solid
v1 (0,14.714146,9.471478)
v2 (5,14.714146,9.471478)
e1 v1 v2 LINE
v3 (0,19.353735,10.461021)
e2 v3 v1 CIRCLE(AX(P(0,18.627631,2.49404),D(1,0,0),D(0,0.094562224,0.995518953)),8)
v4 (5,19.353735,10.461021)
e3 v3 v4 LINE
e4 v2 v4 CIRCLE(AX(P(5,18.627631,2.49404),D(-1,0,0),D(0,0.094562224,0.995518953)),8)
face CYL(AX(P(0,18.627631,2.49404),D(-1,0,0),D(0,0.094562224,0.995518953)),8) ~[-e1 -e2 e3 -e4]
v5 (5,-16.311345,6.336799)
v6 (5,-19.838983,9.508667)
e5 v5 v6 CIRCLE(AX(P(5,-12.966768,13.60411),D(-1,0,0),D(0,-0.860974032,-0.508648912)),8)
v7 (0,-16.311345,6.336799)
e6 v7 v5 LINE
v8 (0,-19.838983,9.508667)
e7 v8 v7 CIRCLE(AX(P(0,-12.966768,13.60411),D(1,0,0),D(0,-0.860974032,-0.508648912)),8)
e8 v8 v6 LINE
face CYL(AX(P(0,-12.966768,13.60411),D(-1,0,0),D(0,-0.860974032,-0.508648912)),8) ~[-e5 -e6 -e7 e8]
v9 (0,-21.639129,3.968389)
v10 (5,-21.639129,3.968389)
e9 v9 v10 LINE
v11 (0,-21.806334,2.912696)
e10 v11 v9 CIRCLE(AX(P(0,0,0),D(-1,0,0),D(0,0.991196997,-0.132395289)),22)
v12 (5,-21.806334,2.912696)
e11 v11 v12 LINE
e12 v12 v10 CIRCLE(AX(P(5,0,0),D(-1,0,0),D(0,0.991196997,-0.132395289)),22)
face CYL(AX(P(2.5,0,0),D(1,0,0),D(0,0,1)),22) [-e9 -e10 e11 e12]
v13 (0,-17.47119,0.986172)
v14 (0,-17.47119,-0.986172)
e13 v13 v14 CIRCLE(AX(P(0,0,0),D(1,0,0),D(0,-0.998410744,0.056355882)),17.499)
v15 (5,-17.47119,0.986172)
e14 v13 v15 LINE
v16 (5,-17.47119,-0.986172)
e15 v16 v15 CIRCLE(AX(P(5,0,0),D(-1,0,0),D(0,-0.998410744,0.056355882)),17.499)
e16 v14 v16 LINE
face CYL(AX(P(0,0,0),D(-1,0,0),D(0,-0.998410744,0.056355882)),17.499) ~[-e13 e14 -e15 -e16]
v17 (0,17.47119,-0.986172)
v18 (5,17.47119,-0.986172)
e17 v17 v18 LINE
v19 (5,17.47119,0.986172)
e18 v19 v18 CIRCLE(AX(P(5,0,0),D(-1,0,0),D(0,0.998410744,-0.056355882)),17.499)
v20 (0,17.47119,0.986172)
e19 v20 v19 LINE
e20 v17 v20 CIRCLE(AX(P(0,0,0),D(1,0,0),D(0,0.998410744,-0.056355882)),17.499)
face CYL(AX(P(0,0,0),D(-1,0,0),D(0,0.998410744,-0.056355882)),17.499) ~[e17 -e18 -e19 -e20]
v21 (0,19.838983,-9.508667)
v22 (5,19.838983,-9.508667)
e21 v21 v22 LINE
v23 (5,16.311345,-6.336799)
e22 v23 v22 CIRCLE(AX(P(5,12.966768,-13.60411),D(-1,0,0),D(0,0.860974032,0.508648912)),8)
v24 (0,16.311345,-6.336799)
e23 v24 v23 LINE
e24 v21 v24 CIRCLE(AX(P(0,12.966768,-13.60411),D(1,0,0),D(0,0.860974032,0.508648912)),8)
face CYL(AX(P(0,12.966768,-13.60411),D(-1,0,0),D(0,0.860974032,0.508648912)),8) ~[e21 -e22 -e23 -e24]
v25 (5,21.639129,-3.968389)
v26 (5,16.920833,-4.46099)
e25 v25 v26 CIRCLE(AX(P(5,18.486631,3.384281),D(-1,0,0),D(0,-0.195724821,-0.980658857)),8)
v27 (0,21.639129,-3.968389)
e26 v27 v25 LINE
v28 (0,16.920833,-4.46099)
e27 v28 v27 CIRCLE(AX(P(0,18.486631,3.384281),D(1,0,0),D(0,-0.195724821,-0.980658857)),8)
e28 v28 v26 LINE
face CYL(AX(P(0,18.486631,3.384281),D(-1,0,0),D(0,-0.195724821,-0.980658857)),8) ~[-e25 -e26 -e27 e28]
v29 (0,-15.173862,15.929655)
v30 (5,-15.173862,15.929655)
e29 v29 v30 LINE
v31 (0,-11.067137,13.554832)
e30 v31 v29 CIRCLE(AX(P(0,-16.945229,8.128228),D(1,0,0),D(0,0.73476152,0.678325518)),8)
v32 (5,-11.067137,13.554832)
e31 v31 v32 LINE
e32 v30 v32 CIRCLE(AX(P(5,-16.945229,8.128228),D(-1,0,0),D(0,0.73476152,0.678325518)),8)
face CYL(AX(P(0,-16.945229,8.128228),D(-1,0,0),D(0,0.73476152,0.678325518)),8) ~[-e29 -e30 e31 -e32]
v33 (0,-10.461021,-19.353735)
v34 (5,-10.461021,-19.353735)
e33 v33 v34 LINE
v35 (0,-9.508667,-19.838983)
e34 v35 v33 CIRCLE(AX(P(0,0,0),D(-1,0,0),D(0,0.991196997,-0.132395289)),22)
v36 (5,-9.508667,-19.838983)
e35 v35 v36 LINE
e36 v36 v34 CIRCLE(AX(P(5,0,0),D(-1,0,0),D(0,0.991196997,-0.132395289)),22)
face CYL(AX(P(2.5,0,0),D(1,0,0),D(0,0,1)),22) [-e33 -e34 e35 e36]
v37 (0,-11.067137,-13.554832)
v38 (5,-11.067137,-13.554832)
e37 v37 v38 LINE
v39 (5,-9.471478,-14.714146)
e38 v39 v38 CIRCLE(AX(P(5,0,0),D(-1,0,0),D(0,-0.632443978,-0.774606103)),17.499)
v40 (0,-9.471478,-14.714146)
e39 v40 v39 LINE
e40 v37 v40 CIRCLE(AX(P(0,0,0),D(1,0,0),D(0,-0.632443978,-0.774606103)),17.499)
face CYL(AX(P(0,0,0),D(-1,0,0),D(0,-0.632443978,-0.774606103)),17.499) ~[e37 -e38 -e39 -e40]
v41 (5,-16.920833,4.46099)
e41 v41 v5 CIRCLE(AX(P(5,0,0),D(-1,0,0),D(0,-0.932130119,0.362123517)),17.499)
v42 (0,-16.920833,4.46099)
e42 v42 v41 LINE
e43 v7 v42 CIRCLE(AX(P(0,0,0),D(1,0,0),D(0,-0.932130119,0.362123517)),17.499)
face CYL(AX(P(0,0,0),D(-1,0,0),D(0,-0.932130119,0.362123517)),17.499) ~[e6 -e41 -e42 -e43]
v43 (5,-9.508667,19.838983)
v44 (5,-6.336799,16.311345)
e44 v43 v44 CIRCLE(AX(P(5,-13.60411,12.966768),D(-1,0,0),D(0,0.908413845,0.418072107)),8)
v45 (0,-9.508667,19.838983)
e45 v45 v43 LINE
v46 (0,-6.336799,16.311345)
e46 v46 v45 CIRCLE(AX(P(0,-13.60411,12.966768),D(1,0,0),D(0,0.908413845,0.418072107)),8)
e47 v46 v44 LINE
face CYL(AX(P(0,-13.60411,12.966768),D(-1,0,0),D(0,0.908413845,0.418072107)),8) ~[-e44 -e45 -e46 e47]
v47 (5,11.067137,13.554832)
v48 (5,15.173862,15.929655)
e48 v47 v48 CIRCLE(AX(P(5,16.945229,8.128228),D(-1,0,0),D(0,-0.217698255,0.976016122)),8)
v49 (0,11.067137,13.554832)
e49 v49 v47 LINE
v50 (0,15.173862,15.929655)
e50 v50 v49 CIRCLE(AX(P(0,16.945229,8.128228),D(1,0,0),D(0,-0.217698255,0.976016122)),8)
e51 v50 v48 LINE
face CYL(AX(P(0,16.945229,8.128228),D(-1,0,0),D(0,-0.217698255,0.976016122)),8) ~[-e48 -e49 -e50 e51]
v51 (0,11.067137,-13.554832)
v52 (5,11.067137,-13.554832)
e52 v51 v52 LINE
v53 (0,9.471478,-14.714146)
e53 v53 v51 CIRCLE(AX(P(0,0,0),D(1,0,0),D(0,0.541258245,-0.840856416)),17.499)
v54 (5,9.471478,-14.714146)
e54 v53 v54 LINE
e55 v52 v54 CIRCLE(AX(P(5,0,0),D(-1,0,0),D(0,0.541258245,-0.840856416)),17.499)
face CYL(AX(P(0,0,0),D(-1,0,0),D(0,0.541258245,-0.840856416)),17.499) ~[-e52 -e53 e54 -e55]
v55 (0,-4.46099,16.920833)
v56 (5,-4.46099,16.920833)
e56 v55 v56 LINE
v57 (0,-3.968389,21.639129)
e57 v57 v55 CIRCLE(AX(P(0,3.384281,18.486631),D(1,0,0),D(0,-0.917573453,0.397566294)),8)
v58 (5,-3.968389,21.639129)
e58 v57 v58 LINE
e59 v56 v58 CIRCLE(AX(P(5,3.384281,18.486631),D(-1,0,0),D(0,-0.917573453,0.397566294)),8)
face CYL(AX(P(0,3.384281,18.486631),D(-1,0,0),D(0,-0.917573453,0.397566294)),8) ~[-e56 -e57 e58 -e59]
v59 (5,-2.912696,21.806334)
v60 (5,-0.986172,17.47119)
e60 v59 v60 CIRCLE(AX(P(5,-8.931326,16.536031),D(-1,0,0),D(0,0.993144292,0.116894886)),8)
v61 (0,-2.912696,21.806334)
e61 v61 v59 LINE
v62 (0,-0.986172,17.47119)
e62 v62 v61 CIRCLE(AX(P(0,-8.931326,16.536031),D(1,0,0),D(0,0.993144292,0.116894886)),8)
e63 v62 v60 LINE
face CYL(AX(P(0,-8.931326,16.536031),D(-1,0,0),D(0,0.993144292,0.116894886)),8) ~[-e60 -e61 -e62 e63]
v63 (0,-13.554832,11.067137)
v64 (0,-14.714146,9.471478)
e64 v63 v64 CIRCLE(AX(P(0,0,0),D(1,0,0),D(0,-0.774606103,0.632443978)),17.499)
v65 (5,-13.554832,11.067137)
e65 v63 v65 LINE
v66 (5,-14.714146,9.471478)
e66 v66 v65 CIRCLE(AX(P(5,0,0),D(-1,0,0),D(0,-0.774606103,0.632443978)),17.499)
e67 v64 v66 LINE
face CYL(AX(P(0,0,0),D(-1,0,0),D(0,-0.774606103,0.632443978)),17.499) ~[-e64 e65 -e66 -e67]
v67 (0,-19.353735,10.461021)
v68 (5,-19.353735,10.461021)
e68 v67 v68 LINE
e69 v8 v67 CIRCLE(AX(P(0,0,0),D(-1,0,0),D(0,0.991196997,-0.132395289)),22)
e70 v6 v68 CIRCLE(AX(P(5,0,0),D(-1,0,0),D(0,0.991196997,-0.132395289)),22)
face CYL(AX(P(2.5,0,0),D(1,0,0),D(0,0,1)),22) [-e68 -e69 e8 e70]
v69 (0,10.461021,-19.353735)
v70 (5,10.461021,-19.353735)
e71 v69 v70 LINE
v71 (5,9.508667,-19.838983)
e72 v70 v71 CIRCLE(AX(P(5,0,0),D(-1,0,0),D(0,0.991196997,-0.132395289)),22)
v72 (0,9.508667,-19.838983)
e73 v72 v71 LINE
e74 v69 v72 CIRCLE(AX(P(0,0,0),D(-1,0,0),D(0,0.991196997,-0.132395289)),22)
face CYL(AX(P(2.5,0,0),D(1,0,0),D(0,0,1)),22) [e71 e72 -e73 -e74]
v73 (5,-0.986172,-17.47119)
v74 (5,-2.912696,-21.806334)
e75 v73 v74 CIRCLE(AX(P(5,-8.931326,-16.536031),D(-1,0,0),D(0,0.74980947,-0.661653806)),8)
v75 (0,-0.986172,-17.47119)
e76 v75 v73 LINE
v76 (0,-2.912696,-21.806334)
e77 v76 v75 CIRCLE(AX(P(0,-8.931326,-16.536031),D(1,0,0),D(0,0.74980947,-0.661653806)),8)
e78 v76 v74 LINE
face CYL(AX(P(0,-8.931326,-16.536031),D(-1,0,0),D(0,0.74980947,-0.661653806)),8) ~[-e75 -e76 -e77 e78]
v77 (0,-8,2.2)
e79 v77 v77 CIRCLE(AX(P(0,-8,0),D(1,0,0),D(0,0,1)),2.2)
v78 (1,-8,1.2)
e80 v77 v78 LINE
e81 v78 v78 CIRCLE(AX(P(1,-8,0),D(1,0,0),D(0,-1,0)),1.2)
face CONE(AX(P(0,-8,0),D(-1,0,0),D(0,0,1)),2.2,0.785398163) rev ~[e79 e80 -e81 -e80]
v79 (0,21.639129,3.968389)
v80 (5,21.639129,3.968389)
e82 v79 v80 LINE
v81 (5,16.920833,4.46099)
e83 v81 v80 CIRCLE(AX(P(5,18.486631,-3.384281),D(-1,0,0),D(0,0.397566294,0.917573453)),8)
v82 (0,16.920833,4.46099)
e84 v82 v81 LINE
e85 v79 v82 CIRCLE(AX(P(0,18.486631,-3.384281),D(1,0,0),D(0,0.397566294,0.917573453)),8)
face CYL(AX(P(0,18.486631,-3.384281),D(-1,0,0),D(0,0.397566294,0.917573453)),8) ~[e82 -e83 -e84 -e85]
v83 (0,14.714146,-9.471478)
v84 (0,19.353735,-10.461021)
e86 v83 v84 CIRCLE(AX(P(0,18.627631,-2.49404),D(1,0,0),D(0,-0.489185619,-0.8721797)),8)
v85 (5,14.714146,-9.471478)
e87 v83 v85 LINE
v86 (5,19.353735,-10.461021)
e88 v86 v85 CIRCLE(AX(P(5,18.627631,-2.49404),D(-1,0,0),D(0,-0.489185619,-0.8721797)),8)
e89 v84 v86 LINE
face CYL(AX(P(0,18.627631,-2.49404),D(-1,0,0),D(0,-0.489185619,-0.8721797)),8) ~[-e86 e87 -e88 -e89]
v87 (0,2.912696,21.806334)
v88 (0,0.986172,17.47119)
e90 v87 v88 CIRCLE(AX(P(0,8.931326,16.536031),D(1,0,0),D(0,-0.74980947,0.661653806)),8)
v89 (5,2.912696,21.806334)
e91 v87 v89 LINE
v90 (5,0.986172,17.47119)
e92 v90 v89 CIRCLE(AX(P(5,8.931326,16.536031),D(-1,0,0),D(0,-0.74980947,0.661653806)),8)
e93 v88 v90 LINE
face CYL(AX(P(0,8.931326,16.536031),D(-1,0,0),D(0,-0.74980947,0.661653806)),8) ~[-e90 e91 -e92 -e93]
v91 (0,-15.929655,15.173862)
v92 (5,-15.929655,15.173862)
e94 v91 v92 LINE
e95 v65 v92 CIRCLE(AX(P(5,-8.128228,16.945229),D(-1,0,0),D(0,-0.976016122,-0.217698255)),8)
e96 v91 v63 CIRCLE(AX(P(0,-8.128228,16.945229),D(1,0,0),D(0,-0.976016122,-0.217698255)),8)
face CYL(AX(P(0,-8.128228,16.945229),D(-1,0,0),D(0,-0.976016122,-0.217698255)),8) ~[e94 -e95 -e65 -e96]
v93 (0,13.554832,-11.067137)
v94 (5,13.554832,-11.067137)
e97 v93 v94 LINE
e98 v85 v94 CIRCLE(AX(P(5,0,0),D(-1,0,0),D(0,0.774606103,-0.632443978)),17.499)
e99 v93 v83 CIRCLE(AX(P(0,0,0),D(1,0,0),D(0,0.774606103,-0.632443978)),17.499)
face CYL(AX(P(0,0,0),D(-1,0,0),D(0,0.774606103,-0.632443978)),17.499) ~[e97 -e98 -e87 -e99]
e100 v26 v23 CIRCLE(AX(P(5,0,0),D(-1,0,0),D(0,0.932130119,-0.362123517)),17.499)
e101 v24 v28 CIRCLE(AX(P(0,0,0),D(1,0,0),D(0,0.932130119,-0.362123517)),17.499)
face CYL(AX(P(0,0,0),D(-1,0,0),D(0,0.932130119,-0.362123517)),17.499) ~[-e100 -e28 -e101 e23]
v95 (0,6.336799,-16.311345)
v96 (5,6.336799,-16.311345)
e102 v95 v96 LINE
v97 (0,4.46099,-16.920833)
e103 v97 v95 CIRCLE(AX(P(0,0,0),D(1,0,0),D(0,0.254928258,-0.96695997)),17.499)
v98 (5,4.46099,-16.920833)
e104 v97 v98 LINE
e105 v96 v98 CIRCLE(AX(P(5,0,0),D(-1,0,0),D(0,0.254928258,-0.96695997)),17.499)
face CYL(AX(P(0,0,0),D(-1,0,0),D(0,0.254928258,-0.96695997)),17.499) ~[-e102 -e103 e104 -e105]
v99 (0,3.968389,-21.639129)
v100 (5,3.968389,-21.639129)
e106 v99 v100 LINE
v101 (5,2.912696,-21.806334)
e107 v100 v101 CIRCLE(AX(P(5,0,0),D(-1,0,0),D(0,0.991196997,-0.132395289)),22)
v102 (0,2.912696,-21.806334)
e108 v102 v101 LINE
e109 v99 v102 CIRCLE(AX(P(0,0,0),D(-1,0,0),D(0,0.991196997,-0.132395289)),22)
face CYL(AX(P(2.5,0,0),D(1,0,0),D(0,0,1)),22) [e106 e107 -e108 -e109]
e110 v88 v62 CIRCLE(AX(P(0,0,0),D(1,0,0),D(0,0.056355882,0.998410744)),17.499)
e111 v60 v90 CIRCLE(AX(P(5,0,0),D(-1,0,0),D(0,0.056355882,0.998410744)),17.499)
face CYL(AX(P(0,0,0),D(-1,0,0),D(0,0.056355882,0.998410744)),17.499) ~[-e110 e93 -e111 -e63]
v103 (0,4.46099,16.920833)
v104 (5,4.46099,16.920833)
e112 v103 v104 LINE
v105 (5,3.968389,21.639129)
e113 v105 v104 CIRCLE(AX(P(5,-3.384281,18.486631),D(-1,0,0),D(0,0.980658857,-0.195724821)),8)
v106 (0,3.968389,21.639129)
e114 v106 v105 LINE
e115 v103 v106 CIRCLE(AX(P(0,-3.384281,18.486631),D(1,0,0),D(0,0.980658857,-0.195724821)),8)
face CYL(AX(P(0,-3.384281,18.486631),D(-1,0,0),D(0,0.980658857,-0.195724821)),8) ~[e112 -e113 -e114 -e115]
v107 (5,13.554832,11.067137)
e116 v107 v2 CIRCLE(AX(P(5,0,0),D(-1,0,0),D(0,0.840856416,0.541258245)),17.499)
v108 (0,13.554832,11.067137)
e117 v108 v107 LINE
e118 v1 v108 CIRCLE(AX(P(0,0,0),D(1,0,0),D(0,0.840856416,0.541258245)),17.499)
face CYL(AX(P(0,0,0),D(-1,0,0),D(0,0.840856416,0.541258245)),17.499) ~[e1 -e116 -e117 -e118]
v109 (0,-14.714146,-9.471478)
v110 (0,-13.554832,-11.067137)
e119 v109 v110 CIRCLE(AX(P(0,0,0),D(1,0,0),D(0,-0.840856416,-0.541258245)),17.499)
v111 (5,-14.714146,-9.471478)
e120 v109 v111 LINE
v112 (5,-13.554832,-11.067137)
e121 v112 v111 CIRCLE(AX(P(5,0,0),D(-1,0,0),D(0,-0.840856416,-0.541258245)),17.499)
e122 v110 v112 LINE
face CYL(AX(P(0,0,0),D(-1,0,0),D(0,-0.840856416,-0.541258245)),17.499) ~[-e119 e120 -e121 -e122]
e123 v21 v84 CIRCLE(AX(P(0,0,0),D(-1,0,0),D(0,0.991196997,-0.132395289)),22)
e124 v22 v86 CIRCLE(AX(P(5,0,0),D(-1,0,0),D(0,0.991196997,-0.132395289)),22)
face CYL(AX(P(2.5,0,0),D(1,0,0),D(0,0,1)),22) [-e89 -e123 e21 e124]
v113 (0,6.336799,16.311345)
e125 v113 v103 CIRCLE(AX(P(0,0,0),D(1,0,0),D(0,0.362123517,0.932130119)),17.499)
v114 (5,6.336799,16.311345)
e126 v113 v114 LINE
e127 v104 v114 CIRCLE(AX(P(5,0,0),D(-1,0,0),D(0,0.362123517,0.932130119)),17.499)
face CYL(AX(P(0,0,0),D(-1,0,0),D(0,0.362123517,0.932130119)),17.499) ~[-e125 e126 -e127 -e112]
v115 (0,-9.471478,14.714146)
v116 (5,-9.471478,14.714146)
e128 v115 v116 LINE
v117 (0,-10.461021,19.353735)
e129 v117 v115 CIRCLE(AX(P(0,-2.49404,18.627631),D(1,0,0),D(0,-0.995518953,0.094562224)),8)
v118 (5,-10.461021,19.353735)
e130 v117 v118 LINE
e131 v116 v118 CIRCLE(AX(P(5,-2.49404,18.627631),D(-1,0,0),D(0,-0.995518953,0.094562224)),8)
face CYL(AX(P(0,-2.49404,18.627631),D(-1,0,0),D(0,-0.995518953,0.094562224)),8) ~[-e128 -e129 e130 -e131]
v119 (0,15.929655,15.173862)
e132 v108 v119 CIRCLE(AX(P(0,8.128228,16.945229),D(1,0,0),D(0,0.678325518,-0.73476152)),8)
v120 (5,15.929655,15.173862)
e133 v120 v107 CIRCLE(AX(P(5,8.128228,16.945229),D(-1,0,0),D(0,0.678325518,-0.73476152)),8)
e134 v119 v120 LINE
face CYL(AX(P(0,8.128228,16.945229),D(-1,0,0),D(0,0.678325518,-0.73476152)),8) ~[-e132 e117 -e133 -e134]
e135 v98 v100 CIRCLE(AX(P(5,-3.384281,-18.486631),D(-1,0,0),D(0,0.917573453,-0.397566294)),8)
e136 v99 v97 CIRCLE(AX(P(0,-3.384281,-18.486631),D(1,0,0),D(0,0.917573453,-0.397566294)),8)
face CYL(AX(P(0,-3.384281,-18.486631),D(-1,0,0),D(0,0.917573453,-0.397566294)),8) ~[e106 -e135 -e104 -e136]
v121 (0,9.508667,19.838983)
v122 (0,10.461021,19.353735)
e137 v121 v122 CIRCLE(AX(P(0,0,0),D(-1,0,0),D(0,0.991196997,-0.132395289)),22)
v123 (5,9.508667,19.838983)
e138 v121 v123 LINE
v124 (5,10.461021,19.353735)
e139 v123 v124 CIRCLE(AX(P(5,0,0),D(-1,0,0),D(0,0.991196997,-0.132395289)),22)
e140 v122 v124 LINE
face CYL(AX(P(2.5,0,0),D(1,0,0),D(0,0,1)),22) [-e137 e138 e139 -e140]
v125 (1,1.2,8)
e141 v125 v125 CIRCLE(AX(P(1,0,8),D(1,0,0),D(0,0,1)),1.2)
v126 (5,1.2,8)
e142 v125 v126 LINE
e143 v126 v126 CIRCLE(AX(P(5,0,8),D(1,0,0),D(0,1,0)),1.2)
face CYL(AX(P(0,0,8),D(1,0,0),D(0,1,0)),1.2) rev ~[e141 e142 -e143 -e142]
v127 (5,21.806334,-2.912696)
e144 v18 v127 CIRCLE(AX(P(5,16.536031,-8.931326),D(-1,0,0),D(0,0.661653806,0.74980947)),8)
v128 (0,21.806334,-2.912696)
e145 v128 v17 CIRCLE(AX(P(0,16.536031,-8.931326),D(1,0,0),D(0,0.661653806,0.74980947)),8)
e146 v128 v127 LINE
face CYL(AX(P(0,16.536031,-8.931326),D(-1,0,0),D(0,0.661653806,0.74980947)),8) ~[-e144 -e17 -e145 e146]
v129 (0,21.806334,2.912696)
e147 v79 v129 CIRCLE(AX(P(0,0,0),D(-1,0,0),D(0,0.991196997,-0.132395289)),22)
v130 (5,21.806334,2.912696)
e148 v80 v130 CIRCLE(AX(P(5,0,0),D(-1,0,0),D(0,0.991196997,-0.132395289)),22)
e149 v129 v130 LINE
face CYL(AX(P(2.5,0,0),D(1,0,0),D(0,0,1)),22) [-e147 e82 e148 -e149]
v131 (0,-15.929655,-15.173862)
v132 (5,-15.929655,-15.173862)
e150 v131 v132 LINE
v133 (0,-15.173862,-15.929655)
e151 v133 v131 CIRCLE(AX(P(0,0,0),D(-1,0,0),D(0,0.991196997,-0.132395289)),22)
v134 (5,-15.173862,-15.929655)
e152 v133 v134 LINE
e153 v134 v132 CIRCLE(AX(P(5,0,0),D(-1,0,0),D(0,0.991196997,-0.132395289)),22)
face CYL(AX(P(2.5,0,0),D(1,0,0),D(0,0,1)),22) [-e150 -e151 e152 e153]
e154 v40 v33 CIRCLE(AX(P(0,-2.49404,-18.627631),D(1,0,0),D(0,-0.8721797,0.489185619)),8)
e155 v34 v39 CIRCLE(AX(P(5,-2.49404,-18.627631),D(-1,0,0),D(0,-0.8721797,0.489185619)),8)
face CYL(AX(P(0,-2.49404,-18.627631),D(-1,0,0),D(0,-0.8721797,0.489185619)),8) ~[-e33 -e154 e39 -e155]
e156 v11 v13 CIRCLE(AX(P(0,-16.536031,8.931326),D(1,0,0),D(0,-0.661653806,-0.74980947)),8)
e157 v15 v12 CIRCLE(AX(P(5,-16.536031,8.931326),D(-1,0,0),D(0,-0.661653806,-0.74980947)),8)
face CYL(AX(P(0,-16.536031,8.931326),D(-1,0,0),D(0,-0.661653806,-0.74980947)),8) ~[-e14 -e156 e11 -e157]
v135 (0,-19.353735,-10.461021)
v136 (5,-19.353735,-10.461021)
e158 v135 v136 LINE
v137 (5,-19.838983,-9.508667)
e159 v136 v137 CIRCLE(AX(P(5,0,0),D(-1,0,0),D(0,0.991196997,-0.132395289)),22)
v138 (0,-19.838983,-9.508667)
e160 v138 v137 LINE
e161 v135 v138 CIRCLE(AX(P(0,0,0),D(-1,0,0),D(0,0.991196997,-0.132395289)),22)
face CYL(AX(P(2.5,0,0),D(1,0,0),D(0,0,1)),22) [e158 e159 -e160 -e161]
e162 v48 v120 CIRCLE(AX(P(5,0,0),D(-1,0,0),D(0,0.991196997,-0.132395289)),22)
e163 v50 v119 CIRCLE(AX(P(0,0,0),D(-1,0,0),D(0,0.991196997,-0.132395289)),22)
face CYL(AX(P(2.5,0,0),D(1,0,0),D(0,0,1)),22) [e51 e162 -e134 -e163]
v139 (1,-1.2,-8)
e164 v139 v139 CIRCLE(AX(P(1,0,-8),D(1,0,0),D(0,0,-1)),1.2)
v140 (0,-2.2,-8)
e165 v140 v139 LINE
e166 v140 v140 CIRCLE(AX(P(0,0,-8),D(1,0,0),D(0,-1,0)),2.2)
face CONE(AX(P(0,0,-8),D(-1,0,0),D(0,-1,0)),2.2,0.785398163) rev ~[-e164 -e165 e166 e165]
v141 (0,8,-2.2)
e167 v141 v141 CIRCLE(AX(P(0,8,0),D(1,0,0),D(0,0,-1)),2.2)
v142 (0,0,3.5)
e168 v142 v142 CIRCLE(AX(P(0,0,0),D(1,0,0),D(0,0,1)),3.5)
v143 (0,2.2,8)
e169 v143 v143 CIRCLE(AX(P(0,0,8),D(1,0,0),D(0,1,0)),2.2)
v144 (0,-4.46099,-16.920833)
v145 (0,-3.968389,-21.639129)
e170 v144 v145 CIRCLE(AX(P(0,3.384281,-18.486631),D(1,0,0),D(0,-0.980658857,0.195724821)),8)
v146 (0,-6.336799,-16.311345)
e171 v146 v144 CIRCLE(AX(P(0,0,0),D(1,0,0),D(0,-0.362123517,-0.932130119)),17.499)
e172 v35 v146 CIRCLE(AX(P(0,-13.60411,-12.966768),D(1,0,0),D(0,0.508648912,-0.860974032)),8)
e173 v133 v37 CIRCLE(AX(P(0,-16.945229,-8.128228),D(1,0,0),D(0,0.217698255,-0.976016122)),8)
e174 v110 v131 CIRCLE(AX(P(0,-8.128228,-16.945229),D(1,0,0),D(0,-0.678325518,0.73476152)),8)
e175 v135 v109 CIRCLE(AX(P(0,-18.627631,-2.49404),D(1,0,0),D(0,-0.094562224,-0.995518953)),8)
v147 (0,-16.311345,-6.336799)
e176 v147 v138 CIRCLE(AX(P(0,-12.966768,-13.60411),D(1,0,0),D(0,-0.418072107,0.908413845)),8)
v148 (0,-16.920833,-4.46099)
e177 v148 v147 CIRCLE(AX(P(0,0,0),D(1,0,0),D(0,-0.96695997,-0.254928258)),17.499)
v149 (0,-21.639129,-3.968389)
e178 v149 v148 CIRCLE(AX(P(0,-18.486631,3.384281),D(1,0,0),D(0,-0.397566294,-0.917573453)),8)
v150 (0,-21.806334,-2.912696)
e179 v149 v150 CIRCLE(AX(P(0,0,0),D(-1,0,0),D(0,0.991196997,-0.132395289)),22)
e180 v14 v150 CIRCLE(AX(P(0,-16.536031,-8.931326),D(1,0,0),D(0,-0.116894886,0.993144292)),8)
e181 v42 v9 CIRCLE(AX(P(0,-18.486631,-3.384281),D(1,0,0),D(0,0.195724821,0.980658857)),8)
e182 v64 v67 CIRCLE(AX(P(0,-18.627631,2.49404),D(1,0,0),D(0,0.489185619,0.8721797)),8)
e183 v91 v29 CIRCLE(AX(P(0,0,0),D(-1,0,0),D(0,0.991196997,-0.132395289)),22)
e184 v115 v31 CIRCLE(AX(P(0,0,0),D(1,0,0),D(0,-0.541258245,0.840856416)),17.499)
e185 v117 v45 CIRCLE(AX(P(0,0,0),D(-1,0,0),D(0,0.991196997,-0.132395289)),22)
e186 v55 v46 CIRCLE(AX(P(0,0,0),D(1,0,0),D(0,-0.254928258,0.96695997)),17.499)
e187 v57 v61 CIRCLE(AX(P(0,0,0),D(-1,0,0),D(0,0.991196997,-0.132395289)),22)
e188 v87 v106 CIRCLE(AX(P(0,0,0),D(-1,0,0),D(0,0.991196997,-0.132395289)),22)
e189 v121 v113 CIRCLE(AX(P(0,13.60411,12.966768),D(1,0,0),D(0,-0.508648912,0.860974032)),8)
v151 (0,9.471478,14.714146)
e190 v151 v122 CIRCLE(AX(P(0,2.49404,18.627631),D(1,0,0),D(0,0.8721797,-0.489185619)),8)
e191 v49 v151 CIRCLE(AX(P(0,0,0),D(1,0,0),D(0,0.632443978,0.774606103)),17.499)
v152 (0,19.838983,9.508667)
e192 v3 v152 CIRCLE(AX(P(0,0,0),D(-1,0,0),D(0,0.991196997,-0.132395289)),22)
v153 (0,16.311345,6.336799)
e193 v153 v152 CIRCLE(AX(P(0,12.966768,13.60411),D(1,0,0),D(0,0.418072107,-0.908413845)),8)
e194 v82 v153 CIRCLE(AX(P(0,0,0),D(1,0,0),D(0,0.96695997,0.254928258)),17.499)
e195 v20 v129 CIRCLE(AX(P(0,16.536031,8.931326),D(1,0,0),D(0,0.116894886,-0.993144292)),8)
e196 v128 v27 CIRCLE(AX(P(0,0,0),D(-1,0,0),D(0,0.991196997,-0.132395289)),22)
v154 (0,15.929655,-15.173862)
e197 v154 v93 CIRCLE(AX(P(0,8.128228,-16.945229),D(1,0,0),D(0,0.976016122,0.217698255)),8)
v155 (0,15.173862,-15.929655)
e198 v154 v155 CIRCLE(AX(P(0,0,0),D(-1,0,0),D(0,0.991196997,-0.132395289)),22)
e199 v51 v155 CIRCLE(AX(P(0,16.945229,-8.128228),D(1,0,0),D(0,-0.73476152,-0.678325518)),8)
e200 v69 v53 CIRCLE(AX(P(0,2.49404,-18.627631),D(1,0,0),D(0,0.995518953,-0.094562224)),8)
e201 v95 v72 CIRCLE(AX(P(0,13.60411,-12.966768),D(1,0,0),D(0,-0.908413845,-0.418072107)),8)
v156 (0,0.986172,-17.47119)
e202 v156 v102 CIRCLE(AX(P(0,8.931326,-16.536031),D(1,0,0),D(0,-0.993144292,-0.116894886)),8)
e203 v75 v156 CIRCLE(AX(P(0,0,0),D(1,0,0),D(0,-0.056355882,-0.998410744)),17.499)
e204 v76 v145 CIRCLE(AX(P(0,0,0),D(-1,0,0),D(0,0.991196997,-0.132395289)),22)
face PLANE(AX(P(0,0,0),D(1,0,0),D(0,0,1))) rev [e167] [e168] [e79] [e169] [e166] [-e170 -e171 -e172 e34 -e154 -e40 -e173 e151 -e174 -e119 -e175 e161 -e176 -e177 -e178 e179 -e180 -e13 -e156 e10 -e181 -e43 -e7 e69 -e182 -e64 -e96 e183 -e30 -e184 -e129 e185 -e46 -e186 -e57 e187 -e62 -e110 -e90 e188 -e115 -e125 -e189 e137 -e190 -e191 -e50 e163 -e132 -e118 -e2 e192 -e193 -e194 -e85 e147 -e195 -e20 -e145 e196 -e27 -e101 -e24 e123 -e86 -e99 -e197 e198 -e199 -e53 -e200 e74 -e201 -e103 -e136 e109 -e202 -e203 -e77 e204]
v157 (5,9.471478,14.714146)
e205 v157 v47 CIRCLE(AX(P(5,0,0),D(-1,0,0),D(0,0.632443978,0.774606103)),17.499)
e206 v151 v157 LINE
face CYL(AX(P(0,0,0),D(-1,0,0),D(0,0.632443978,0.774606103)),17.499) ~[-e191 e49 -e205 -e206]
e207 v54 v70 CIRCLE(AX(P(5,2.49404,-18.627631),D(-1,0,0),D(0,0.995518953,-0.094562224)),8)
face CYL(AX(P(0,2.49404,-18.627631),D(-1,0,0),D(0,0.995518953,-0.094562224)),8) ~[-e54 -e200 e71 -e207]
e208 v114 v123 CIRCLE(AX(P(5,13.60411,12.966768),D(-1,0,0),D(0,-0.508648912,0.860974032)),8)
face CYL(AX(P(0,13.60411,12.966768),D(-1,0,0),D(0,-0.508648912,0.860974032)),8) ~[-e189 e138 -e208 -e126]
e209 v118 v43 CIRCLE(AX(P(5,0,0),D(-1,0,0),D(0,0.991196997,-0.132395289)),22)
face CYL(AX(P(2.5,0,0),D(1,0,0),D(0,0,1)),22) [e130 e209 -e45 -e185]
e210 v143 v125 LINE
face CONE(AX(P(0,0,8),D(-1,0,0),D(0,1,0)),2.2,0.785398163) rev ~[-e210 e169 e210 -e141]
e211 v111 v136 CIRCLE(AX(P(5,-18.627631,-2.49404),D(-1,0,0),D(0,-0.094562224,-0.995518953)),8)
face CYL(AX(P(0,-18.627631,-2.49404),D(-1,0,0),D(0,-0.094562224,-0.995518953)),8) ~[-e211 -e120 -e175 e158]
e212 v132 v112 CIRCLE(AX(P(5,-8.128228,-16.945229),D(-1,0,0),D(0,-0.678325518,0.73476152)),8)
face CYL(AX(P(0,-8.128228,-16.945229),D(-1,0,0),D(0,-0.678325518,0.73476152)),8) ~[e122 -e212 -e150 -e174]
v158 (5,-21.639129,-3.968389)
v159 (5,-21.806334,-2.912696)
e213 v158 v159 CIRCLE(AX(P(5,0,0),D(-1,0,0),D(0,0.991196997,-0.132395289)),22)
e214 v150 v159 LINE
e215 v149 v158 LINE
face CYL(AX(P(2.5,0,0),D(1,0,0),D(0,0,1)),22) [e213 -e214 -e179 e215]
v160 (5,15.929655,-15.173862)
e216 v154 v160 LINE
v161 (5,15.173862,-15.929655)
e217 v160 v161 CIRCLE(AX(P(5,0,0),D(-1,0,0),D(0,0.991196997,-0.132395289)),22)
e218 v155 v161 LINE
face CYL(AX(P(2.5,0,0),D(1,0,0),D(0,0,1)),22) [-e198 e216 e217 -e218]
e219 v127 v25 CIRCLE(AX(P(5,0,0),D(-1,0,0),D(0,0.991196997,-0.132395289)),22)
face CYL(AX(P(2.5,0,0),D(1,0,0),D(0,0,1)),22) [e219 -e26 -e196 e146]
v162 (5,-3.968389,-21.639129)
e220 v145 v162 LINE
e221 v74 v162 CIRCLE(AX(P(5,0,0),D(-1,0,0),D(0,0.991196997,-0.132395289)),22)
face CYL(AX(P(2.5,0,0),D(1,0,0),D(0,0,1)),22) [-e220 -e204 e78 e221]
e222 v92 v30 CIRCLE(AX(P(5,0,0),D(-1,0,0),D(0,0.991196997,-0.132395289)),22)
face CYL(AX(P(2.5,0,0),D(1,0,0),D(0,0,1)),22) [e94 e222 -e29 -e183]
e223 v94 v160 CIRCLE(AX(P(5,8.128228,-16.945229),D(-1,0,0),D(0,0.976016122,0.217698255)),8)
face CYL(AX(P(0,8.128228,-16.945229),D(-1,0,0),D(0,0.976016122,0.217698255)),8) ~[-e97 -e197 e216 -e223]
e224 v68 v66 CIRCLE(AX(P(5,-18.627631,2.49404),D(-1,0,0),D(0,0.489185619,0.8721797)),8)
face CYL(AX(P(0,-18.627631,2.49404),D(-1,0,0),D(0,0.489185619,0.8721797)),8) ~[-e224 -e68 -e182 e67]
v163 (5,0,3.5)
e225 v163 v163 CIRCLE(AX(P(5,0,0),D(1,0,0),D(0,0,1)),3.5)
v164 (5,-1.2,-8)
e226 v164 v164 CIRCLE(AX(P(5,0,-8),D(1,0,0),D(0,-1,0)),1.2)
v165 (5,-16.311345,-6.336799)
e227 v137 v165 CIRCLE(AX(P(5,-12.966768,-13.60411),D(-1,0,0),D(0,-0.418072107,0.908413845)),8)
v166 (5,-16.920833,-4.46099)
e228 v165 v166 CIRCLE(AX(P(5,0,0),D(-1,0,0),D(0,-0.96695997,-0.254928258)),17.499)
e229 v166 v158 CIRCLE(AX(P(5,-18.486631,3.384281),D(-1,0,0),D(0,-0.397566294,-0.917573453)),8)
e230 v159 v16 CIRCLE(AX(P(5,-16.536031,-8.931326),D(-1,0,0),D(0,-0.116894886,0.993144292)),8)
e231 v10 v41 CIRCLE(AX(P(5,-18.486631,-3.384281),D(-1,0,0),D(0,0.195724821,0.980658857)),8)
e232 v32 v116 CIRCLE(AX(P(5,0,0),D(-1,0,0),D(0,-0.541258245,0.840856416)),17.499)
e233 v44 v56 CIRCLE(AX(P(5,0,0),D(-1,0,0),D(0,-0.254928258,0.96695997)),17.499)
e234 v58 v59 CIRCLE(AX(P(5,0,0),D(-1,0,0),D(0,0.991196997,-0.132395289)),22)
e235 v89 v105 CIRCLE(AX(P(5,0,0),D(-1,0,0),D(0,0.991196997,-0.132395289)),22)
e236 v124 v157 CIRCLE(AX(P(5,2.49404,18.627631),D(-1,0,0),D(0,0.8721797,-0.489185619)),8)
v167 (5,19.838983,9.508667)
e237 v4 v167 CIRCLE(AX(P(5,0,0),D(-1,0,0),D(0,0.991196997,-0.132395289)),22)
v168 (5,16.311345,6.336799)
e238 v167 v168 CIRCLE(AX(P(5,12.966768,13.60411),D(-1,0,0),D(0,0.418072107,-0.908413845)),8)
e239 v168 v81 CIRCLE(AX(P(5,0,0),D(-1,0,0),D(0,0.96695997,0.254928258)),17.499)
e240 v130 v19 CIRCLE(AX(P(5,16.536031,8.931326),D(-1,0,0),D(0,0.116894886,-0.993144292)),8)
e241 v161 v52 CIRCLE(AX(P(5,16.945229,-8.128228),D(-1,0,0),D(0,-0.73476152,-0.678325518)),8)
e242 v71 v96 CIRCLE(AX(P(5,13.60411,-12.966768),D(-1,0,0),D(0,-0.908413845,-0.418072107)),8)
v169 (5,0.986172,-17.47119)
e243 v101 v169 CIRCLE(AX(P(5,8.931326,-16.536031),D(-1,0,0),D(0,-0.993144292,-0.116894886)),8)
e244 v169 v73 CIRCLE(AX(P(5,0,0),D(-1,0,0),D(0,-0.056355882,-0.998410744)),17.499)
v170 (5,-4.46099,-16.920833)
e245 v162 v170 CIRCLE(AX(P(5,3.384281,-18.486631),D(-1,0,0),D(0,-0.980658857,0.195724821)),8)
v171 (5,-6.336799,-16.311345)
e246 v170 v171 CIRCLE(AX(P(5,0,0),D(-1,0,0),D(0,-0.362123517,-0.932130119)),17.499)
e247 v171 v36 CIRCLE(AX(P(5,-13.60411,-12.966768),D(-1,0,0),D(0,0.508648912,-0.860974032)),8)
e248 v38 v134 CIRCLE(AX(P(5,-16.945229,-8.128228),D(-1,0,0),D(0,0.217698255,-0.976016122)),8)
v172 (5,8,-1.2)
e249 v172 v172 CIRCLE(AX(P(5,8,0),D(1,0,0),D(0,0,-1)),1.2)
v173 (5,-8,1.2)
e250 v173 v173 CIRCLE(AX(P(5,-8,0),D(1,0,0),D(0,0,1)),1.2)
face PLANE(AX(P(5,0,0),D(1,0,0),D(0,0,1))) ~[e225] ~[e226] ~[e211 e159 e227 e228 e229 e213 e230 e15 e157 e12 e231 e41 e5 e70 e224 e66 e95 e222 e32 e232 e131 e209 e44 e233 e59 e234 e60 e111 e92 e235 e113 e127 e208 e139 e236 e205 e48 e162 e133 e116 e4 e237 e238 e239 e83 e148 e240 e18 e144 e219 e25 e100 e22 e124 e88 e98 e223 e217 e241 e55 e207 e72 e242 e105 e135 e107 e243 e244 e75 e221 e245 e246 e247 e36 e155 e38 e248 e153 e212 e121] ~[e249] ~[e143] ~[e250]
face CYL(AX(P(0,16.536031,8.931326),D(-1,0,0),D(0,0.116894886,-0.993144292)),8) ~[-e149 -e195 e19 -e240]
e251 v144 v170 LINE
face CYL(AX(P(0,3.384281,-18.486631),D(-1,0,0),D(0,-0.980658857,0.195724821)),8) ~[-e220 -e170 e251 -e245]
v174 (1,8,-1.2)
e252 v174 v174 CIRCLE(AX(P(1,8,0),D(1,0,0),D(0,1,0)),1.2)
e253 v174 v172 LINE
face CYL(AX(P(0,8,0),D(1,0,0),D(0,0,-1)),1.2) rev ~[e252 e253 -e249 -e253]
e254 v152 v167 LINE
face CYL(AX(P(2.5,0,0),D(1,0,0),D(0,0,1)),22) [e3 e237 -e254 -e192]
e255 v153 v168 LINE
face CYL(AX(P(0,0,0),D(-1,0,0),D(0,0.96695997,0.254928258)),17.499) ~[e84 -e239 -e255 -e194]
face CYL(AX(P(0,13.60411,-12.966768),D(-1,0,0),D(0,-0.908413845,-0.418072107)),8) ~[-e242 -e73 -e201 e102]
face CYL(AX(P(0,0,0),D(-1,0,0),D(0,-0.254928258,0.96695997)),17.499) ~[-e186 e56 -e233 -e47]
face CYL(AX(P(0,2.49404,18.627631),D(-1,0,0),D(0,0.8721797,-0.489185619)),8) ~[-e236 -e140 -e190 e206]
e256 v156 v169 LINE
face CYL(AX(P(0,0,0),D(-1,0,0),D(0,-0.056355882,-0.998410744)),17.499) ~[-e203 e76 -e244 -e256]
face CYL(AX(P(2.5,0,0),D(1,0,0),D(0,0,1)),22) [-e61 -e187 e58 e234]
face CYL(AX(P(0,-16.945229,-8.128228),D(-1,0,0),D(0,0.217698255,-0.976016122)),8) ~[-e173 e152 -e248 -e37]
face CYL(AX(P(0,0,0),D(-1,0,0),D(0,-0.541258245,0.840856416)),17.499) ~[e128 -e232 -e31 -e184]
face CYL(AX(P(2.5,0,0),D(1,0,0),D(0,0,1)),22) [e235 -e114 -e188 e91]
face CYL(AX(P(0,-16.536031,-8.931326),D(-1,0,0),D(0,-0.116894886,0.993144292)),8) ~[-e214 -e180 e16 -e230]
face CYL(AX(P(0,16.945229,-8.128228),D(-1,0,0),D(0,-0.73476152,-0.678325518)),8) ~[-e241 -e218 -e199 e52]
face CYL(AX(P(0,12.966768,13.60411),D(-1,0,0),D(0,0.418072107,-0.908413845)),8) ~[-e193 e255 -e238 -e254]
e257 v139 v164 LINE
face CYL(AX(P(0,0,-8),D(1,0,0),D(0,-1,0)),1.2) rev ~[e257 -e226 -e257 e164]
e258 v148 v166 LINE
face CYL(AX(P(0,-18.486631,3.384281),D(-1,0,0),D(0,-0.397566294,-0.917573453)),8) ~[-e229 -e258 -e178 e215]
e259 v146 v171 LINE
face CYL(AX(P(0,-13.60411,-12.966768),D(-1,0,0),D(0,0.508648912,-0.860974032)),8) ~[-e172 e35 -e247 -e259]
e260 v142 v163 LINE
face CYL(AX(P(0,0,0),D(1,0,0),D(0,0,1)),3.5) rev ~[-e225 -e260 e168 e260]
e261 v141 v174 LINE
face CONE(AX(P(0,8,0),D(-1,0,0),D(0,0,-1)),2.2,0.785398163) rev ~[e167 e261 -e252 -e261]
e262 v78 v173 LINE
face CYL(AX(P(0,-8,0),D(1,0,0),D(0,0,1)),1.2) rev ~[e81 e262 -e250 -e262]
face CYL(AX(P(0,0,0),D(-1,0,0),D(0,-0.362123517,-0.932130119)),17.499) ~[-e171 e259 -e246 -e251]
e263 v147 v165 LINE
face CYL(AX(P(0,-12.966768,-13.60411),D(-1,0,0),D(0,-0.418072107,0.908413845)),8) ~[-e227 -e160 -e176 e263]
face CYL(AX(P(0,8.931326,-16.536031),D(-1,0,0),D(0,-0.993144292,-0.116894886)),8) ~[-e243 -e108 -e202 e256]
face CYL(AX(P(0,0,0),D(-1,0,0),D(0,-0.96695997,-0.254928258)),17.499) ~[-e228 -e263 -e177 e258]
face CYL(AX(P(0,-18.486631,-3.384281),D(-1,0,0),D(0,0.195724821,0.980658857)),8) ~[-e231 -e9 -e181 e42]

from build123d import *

# Parameters (mm, degrees)
BASPROSKE_W                                    = 5
BASPROSKE_H                                    = 22
TOOTHCUT_DEPTH                                 = 32.511902513
TEETHCUTS_COUNT                                = 20
TEETHCUTS_ANGLE                                = 342
BORSKE_R                                       = 3.5
BORE_DEPTH                                     = 50.0000508
FRAISAGE_POUR_VIS_T_TE_FRAIS_E_M21_D           = 2.4
FRAISAGE_POUR_VIS_T_TE_FRAIS_E_M21_CSINK_D     = 4.4
FRAISAGE_POUR_VIS_T_TE_FRAIS_E_M21_CSINK_ANGLE = 90
R_P_TITION_CIRCULAIRE1_COUNT                   = 4


with BuildPart() as part:
    # BasProSke → Base-Revolve (revolve)
    with BuildSketch(Plane(origin=(0, 0, 0), x_dir=(1, 0, 0), z_dir=(0, 1, 0)), mode=Mode.PRIVATE) as base_revolve_sk:
        with Locations((2.5, 11)):
            Rectangle(BASPROSKE_W, BASPROSKE_H)
    revolve(base_revolve_sk.sketch.rotate(Axis((-10, 0, 0), (1, 0, 0)), 180), axis=Axis((-10, 0, 0), (1, 0, 0)))

    # TooCutSke → ToothCut (cut, through all)
    with BuildSketch(Plane(origin=(0, 0, 0), x_dir=(0, 0, -1), z_dir=(1, 0, 0))):
        with BuildLine():
            ThreePointArc((0.986171591, 17.471189616), (0, 17.499), (-0.986171591, 17.471189616))
            ThreePointArc((-0.986171591, 17.471189616), (-1.626916196, 19.798789858), (-2.932850173, 21.829260982))
            ThreePointArc((-2.932850173, 21.829260982), (0, 22.0254), (2.932850173, 21.829260982))
            ThreePointArc((2.932850173, 21.829260982), (1.626916196, 19.798789858), (0.986171591, 17.471189616))
        make_face()
    toothcut = extrude(amount=TOOTHCUT_DEPTH, mode=Mode.SUBTRACT)

    # TeethCuts: ToothCut ×20 about axis
    teethcuts_axis = Axis((-10, 0, 0), (1, 0, 0))
    for i in range(1, TEETHCUTS_COUNT):
        add(toothcut.rotate(teethcuts_axis, i * TEETHCUTS_ANGLE / (TEETHCUTS_COUNT - 1)), mode=Mode.SUBTRACT)

    # BorSke → Bore (cut, symmetric)
    with BuildSketch(Plane(origin=(0, 0, 0), x_dir=(0, 0, -1), z_dir=(1, 0, 0))):
        with Locations(Location((0, 0, 0), (0, 0, 180))):
            Circle(BORSKE_R)
    extrude(amount=BORE_DEPTH, both=True, mode=Mode.SUBTRACT)

    # Fraisage pour vis à tête fraisée M21 (through all)
    with Locations(Plane.ZY):
        with Locations((0, 8)):
            fraisage_pour_vis_t_te_frais_e_m21 = CounterSinkHole(FRAISAGE_POUR_VIS_T_TE_FRAIS_E_M21_D / 2, FRAISAGE_POUR_VIS_T_TE_FRAIS_E_M21_CSINK_D / 2, counter_sink_angle=FRAISAGE_POUR_VIS_T_TE_FRAIS_E_M21_CSINK_ANGLE)

    # Répétition circulaire1: Fraisage pour vis à tête fraisée M21 ×4 about axis
    r_p_tition_circulaire1_axis = Axis((0, 0, 0), (1, 0, 0))
    for i in range(1, R_P_TITION_CIRCULAIRE1_COUNT):
        add(fraisage_pour_vis_t_te_frais_e_m21.rotate(r_p_tition_circulaire1_axis, i * 360 / R_P_TITION_CIRCULAIRE1_COUNT), mode=Mode.SUBTRACT)


solid = part.part
